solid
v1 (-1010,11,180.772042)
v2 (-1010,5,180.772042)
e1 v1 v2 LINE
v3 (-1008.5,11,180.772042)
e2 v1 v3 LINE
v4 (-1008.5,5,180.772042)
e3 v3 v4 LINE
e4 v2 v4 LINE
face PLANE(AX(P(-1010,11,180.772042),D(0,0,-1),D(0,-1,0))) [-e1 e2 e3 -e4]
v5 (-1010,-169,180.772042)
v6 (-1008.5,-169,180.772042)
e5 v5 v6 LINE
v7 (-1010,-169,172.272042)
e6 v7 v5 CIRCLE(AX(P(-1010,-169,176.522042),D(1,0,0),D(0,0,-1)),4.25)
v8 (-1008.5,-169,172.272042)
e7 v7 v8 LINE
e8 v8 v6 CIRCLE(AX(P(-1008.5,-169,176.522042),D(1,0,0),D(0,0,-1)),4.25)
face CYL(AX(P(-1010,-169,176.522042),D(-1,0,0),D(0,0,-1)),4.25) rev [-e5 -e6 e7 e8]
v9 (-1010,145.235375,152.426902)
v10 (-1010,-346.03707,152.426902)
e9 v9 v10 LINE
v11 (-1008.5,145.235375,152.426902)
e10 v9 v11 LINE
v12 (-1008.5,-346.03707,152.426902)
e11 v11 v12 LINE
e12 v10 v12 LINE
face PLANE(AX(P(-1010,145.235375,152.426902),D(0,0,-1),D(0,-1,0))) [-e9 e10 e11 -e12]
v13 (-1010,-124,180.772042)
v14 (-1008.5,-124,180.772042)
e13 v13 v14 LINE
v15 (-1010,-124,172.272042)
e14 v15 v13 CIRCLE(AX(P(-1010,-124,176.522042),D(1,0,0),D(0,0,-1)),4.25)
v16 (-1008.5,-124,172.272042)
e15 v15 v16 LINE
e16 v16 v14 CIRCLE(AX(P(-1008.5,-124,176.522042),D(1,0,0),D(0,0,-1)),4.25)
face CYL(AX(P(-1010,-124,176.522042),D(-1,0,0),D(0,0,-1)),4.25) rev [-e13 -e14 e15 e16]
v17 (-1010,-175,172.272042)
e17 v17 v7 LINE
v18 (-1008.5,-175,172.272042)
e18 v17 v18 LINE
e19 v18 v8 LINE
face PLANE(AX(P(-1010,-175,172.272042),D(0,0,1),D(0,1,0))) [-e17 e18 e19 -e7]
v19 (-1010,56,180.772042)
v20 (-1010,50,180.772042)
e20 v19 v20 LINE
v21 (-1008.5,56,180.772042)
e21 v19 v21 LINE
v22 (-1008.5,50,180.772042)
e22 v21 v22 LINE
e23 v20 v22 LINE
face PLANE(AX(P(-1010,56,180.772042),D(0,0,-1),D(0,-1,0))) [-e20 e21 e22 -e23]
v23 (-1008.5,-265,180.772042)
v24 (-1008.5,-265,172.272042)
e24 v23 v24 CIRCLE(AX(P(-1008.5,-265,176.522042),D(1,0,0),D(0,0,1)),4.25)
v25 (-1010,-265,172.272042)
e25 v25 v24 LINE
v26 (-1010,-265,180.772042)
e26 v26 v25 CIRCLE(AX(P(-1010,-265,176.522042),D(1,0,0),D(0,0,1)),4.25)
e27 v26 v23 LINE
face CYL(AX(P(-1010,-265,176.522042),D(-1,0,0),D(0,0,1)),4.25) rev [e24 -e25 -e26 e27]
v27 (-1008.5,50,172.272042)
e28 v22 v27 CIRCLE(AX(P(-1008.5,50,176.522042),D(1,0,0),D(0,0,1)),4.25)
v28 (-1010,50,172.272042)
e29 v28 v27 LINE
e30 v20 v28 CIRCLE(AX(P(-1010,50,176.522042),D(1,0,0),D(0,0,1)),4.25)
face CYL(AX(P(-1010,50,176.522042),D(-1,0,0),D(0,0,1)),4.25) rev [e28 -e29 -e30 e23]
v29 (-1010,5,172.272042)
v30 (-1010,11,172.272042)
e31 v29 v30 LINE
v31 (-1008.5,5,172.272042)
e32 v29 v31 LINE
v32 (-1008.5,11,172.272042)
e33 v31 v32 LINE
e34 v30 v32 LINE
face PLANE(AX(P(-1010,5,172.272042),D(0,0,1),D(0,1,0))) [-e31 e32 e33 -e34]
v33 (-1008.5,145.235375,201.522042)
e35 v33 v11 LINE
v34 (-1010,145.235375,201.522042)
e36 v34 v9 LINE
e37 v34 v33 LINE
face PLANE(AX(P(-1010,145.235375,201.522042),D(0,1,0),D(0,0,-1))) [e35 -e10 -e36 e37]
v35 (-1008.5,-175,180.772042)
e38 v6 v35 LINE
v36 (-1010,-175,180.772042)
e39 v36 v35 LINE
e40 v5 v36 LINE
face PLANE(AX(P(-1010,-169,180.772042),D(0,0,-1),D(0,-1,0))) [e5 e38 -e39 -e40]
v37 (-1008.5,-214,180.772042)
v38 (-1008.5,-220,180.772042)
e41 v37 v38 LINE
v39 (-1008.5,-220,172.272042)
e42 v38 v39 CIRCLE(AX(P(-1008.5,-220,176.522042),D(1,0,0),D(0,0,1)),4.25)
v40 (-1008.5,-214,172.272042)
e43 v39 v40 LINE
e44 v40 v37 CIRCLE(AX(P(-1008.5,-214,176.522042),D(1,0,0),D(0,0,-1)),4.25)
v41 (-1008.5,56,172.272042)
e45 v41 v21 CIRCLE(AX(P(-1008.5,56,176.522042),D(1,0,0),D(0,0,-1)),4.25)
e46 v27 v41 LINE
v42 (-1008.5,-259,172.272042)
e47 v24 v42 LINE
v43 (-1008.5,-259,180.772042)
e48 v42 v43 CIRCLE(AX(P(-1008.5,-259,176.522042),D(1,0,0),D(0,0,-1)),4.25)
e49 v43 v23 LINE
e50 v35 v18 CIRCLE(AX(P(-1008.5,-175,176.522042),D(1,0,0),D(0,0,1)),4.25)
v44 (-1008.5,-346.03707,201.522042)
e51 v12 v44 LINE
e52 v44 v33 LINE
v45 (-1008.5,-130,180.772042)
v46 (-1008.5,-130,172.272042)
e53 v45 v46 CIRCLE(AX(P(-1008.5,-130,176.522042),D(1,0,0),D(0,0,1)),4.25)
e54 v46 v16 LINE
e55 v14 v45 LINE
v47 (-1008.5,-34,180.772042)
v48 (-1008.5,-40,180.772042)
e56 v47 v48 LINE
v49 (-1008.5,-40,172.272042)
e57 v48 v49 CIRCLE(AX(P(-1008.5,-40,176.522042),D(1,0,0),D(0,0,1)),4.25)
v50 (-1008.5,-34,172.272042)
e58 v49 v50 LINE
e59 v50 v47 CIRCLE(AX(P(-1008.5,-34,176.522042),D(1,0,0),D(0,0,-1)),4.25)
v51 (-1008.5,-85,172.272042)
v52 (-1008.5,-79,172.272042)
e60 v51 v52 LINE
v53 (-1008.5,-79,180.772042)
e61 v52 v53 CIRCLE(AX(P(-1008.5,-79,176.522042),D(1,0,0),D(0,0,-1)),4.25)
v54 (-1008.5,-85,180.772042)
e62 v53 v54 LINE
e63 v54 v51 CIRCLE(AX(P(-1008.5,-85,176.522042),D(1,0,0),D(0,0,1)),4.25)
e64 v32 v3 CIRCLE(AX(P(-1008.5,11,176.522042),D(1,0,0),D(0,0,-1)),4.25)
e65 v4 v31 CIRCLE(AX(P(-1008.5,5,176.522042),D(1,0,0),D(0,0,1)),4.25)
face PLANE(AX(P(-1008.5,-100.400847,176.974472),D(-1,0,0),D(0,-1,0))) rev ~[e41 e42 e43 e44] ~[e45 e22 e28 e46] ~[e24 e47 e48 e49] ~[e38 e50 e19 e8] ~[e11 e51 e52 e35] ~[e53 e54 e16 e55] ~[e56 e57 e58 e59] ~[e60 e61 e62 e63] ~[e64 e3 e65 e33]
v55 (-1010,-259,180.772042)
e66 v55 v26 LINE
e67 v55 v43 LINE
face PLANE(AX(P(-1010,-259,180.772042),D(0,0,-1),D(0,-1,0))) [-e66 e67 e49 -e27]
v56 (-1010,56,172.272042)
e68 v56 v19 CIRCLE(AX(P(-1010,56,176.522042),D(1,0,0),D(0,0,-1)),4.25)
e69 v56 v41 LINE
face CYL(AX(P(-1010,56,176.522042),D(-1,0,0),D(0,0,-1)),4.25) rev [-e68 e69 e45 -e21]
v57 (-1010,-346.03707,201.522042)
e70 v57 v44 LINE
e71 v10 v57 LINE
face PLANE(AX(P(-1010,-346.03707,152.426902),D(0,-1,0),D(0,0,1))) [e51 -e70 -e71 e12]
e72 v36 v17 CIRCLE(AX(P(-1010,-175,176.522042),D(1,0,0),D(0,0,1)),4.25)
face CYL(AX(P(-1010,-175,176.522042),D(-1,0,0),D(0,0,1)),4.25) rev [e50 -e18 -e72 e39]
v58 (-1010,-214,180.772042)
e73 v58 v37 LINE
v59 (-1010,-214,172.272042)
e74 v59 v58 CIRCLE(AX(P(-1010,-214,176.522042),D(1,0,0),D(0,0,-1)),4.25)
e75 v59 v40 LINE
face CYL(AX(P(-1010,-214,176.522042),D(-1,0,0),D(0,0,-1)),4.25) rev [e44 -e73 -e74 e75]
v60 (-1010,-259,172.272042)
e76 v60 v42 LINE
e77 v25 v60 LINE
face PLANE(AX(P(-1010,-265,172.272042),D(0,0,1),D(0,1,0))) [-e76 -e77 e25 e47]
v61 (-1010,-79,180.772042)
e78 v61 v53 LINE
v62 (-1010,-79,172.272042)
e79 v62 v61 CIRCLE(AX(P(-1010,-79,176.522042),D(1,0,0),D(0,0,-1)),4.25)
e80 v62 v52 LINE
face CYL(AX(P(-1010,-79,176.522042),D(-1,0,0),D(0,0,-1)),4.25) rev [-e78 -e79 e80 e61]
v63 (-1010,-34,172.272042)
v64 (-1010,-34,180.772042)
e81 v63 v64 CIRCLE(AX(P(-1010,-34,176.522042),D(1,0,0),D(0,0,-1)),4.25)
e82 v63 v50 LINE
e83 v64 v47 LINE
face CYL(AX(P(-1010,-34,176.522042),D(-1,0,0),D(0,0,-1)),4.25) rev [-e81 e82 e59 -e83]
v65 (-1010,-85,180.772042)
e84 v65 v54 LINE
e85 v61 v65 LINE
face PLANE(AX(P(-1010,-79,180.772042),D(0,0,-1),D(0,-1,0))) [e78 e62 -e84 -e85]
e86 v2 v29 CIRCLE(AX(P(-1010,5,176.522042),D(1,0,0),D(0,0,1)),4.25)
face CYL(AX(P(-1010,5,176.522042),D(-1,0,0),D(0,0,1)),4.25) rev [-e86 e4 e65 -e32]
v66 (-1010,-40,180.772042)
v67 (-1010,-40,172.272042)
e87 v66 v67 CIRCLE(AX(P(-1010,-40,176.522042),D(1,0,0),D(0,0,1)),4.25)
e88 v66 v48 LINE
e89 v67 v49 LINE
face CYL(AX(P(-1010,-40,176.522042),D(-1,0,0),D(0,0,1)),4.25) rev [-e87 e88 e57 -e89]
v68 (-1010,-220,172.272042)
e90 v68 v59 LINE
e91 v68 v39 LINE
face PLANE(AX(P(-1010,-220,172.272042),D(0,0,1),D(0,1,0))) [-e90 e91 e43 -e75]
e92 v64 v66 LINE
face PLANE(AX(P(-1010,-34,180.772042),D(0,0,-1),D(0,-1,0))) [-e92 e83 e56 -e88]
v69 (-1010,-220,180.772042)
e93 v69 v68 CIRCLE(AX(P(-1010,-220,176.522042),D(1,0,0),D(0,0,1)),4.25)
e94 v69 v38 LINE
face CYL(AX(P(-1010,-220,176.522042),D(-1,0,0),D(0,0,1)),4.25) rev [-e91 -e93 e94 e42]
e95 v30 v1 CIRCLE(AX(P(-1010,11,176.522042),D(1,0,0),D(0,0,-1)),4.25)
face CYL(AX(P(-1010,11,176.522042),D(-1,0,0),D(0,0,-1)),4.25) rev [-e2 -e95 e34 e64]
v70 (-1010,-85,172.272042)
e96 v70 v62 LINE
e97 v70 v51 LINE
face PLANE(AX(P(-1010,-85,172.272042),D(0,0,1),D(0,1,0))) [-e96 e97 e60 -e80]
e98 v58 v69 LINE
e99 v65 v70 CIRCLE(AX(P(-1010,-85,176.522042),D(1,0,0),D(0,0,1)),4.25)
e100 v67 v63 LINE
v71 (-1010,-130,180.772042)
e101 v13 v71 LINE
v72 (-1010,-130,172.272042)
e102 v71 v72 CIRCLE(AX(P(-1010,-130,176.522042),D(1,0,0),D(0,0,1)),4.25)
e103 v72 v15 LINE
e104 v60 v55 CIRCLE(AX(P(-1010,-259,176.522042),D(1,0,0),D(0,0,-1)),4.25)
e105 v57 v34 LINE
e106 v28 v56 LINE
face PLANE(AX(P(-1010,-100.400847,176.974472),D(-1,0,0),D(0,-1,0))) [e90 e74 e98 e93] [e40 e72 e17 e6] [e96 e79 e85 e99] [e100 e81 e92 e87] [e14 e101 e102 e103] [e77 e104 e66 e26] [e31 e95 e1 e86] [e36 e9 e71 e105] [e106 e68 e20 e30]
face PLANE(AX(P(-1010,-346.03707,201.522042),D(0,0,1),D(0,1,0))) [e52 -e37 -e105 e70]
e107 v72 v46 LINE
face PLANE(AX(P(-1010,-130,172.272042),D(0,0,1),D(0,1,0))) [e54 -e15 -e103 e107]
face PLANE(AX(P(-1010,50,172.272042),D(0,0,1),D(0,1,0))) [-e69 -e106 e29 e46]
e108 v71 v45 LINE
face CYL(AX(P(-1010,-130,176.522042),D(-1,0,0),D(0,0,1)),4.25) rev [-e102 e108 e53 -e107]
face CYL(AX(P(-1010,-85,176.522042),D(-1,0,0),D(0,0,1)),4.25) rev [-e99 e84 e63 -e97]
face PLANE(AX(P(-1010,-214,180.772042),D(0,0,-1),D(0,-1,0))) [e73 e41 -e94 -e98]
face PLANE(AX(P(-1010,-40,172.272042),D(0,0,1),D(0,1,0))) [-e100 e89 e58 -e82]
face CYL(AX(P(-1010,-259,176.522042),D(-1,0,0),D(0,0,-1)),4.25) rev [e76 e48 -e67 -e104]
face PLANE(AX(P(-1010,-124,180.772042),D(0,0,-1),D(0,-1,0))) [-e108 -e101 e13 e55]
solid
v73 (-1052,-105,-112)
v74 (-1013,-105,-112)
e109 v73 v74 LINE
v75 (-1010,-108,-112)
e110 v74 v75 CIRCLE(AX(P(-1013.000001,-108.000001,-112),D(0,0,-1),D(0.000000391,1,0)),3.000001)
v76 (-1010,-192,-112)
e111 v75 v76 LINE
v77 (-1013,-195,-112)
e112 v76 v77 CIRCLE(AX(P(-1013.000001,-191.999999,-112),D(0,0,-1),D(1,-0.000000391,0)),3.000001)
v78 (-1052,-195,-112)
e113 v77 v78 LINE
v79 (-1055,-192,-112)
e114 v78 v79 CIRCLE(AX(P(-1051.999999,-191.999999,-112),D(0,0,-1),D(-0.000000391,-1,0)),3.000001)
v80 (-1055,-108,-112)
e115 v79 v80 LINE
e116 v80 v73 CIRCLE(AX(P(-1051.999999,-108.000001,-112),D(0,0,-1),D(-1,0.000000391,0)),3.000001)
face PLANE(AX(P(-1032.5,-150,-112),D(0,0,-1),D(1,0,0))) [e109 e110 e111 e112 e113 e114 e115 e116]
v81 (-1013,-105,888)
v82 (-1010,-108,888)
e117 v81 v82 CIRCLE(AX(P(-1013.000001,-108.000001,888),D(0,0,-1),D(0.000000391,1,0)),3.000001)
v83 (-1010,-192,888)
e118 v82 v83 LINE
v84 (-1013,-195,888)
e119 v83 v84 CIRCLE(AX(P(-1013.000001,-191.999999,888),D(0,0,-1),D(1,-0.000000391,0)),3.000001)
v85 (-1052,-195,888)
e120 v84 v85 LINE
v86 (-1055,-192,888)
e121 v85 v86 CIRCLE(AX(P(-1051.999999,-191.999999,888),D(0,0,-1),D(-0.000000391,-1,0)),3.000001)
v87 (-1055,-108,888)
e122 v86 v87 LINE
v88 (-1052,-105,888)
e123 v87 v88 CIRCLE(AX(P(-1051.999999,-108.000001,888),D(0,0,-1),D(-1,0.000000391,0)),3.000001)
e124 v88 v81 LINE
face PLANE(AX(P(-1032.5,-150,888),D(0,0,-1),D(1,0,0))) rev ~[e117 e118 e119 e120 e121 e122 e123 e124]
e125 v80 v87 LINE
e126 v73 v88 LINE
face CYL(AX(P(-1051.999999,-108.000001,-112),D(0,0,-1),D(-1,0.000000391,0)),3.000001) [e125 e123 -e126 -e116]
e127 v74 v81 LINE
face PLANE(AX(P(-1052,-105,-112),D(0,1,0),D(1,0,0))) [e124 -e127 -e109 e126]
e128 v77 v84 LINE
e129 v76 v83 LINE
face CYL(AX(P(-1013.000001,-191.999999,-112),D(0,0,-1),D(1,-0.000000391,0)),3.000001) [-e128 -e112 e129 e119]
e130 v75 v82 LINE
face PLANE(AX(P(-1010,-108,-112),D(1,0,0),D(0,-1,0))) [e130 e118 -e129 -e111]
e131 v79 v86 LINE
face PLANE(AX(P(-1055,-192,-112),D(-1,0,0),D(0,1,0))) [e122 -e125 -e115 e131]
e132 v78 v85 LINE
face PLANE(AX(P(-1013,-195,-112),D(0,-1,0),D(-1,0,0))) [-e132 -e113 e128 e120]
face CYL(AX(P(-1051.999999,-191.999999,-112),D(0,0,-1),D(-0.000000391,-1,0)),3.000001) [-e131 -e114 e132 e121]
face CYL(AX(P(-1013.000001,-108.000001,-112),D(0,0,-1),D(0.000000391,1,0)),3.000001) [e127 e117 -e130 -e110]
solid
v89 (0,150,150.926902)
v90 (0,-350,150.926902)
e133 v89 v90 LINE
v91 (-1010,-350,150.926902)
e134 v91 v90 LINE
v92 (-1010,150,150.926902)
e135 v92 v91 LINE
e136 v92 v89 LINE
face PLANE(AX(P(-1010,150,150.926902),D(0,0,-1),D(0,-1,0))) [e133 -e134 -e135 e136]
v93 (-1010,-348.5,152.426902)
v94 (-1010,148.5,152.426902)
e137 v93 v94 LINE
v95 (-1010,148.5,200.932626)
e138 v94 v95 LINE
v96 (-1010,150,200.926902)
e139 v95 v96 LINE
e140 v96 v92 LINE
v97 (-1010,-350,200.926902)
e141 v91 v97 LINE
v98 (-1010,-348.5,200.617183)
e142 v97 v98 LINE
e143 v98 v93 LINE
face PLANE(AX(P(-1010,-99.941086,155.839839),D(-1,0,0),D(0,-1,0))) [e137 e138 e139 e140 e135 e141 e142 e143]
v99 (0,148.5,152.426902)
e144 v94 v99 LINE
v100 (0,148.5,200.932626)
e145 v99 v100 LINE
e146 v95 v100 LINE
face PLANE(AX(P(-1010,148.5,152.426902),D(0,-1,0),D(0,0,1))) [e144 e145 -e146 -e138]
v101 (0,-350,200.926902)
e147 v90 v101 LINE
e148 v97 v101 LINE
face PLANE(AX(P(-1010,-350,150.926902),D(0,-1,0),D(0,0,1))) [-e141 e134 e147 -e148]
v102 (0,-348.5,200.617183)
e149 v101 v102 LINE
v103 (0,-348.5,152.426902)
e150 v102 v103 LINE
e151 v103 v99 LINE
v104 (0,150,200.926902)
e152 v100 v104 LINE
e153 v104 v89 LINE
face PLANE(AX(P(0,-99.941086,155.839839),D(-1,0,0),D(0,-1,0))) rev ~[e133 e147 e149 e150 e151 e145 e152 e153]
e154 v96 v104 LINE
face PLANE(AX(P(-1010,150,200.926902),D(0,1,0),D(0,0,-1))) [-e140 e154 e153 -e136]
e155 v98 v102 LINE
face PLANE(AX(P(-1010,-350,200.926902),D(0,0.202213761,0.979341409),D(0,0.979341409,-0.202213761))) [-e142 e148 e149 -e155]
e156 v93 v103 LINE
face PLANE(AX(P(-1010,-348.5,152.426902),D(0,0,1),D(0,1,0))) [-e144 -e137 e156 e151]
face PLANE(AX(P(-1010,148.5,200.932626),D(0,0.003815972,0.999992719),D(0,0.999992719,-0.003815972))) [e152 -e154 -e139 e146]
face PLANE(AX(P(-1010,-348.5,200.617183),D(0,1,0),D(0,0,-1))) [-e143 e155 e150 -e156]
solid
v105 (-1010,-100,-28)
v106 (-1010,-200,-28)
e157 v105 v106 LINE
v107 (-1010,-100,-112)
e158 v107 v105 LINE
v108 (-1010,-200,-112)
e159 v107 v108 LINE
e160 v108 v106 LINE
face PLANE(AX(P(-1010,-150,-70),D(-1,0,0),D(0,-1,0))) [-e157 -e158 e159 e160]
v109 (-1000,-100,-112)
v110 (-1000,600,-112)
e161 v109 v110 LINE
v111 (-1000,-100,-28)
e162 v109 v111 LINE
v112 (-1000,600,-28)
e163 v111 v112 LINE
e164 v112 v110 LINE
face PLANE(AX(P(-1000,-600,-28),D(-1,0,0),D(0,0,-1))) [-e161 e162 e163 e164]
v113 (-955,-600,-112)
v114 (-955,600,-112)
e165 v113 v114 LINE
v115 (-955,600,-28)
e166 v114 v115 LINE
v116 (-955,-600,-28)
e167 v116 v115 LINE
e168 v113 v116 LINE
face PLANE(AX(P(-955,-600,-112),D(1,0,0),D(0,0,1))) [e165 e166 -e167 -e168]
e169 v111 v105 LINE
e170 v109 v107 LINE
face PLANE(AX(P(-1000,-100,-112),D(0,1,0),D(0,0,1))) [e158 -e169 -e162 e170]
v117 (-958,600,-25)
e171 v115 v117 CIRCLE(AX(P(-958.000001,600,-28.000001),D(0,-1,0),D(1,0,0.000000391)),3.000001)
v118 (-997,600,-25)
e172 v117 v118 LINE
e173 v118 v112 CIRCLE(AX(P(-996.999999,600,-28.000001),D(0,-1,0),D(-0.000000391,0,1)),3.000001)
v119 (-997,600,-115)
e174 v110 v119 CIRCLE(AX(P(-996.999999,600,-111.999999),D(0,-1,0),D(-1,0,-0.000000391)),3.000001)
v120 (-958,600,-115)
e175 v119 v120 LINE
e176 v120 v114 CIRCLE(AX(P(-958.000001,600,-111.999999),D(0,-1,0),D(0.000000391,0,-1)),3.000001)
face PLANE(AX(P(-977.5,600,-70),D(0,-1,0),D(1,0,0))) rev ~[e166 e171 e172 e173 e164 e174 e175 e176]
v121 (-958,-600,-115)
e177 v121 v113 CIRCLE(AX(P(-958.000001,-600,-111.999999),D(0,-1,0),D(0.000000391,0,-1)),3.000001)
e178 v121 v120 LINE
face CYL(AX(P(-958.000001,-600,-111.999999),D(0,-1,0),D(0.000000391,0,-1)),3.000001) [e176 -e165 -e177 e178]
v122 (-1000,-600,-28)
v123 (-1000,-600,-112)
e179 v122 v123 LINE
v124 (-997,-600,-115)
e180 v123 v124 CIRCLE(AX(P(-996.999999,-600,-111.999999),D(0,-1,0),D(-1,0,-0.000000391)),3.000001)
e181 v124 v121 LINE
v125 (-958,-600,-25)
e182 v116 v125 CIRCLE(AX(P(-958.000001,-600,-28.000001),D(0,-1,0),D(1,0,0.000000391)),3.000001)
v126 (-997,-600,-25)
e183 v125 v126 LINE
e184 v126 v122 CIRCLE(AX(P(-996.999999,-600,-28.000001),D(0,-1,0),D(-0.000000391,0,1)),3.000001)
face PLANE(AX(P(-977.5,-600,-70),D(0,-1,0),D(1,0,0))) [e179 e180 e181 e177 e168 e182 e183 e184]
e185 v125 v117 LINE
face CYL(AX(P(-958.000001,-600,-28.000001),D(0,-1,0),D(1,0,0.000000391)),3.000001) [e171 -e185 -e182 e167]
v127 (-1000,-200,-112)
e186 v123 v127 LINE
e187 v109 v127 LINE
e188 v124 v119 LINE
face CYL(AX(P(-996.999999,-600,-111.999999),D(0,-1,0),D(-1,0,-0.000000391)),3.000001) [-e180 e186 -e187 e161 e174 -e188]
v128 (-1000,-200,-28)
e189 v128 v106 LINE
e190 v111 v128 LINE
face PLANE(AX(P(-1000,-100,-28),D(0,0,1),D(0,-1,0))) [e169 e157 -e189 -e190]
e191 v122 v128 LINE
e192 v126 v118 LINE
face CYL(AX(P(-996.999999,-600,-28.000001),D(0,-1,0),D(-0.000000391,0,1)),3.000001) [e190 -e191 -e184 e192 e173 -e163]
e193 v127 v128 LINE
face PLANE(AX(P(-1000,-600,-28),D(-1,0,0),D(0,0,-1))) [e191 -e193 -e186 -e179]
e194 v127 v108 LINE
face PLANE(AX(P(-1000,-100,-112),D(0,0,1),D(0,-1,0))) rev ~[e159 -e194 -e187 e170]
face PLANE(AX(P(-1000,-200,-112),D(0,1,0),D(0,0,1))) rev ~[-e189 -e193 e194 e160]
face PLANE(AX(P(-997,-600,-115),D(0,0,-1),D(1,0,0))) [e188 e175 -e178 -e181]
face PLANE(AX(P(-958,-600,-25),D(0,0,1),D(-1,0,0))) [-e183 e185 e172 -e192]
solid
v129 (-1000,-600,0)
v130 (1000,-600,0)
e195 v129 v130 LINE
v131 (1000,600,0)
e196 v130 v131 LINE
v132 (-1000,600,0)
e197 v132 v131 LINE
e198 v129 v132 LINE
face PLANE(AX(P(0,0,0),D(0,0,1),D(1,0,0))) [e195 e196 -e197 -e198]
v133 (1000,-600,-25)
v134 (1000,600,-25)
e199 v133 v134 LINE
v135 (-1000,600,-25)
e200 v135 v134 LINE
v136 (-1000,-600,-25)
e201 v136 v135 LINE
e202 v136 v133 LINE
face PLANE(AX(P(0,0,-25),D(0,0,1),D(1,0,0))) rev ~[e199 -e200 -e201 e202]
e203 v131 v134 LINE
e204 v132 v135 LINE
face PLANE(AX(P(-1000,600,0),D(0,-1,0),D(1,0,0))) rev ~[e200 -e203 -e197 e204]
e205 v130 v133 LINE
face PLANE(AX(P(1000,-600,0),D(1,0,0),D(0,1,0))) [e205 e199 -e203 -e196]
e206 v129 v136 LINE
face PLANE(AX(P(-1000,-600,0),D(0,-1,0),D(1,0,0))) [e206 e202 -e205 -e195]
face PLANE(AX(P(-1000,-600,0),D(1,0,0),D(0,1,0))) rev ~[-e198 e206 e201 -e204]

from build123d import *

# Parameters (mm, degrees)
F0_W      = 2000
F0_H      = 1200
F1_DEPTH  = 25
F3_DEPTH  = 1200
F6_W      = 100
F6_H      = 84
F7_DEPTH  = 10
F9_DEPTH  = 1.5
F10_DEPTH = 1010
F12_DEPTH = 1000


with BuildPart() as f1:
    # F0 (on Top) → F1 (new body)
    with BuildSketch(Plane.XY):
        Rectangle(F0_W, F0_H)
    extrude(amount=-F1_DEPTH)


with BuildPart() as f3:
    # F2 (on face) → F3 (new body)
    with BuildSketch(Plane.XZ.offset(600)):
        with BuildLine():
            Line((-958, -25), (-997, -25))
            ThreePointArc((-997, -25), (-999.12132, -25.87868), (-1000, -28))
            Line((-1000, -28), (-1000, -112))
            ThreePointArc((-1000, -112), (-999.12132, -114.12132), (-997, -115))
            Line((-997, -115), (-958, -115))
            ThreePointArc((-958, -115), (-955.87868, -114.12132), (-955, -112))
            Line((-955, -112), (-955, -28))
            ThreePointArc((-955, -28), (-955.87868, -25.87868), (-958, -25))
        make_face()
    extrude(amount=-F3_DEPTH)

    # F6 (on face) → F7 (join)
    with BuildSketch(Plane(origin=(-1000, 0, 0), x_dir=(0, -1, 0), z_dir=(-1, 0, 0))):
        with Locations((150, -70)):
            Rectangle(F6_W, F6_H)
    extrude(amount=F7_DEPTH)


with BuildPart() as f9:
    # F8 (on face) → F9 (new body)
    with BuildSketch(Plane(origin=(-1010, 0, 0), x_dir=(0, -1, 0), z_dir=(-1, 0, 0))):
        Polygon((-145.235375, 152.426902), (346.03707, 152.426902), (346.03707, 201.522042), (-145.235375, 201.522042), (-145.235375, 166.426902), align=None)
        with BuildLine():
            ThreePointArc((-56, 172.272042), (-60.25, 176.522042), (-56, 180.772042))
            Line((-56, 180.772042), (-50, 180.772042))
            ThreePointArc((-50, 180.772042), (-45.75, 176.522042), (-50, 172.272042))
            Line((-50, 172.272042), (-56, 172.272042))
        make_face(mode=Mode.SUBTRACT)
        with BuildLine():
            ThreePointArc((-5, 180.772042), (-0.75, 176.522042), (-5, 172.272042))
            Line((-5, 172.272042), (-11, 172.272042))
            ThreePointArc((-11, 172.272042), (-15.25, 176.522042), (-11, 180.772042))
            Line((-11, 180.772042), (-5, 180.772042))
        make_face(mode=Mode.SUBTRACT)
        with BuildLine():
            ThreePointArc((40, 180.772042), (44.25, 176.522042), (40, 172.272042))
            Line((40, 172.272042), (34, 172.272042))
            ThreePointArc((34, 172.272042), (29.75, 176.522042), (34, 180.772042))
            Line((34, 180.772042), (40, 180.772042))
        make_face(mode=Mode.SUBTRACT)
        with BuildLine():
            ThreePointArc((85, 180.772042), (89.25, 176.522042), (85, 172.272042))
            Line((85, 172.272042), (79, 172.272042))
            ThreePointArc((79, 172.272042), (74.75, 176.522042), (79, 180.772042))
            Line((79, 180.772042), (85, 180.772042))
        make_face(mode=Mode.SUBTRACT)
        with BuildLine():
            ThreePointArc((130, 180.772042), (134.25, 176.522042), (130, 172.272042))
            Line((130, 172.272042), (124, 172.272042))
            ThreePointArc((124, 172.272042), (119.75, 176.522042), (124, 180.772042))
            Line((124, 180.772042), (130, 180.772042))
        make_face(mode=Mode.SUBTRACT)
        with BuildLine():
            ThreePointArc((175, 180.772042), (179.25, 176.522042), (175, 172.272042))
            Line((175, 172.272042), (169, 172.272042))
            ThreePointArc((169, 172.272042), (164.75, 176.522042), (169, 180.772042))
            Line((169, 180.772042), (175, 180.772042))
        make_face(mode=Mode.SUBTRACT)
        with BuildLine():
            ThreePointArc((220, 180.772042), (224.25, 176.522042), (220, 172.272042))
            Line((220, 172.272042), (214, 172.272042))
            ThreePointArc((214, 172.272042), (209.75, 176.522042), (214, 180.772042))
            Line((214, 180.772042), (220, 180.772042))
        make_face(mode=Mode.SUBTRACT)
        with BuildLine():
            ThreePointArc((265, 180.772042), (269.25, 176.522042), (265, 172.272042))
            Line((265, 172.272042), (259, 172.272042))
            ThreePointArc((259, 172.272042), (254.75, 176.522042), (259, 180.772042))
            Line((259, 180.772042), (265, 180.772042))
        make_face(mode=Mode.SUBTRACT)
    extrude(amount=-F9_DEPTH)


with BuildPart() as f10:
    # F8 (on face) → F10 (new body, through all)
    with BuildSketch(Plane(origin=(-1010, 0, 0), x_dir=(0, -1, 0), z_dir=(-1, 0, 0))):
        Polygon((-150, 150.926902), (350, 150.926902), (350, 200.926902), (348.5, 200.617183), (348.5, 152.426902), (346.03707, 152.426902), (-145.235375, 152.426902), (-148.5, 152.426902), (-148.5, 200.932626), (-150, 200.926902), align=None)
    extrude(amount=-F10_DEPTH)


with BuildPart() as f12:
    # F11 (on face) → F12 (new body)
    with BuildSketch(Plane(origin=(0, 0, -112), x_dir=(1, 0, 0), z_dir=(0, 0, -1))):
        with BuildLine():
            ThreePointArc((-1010, 192), (-1010.87868, 194.12132), (-1013, 195))
            Line((-1013, 195), (-1052, 195))
            ThreePointArc((-1052, 195), (-1054.12132, 194.12132), (-1055, 192))
            Line((-1055, 192), (-1055, 108))
            ThreePointArc((-1055, 108), (-1054.12132, 105.87868), (-1052, 105))
            Line((-1052, 105), (-1013, 105))
            ThreePointArc((-1013, 105), (-1010.87868, 105.87868), (-1010, 108))
            Line((-1010, 108), (-1010, 192))
        make_face()
    extrude(amount=-F12_DEPTH)


solid = Compound([f1.part, f3.part, f9.part, f10.part, f12.part])
